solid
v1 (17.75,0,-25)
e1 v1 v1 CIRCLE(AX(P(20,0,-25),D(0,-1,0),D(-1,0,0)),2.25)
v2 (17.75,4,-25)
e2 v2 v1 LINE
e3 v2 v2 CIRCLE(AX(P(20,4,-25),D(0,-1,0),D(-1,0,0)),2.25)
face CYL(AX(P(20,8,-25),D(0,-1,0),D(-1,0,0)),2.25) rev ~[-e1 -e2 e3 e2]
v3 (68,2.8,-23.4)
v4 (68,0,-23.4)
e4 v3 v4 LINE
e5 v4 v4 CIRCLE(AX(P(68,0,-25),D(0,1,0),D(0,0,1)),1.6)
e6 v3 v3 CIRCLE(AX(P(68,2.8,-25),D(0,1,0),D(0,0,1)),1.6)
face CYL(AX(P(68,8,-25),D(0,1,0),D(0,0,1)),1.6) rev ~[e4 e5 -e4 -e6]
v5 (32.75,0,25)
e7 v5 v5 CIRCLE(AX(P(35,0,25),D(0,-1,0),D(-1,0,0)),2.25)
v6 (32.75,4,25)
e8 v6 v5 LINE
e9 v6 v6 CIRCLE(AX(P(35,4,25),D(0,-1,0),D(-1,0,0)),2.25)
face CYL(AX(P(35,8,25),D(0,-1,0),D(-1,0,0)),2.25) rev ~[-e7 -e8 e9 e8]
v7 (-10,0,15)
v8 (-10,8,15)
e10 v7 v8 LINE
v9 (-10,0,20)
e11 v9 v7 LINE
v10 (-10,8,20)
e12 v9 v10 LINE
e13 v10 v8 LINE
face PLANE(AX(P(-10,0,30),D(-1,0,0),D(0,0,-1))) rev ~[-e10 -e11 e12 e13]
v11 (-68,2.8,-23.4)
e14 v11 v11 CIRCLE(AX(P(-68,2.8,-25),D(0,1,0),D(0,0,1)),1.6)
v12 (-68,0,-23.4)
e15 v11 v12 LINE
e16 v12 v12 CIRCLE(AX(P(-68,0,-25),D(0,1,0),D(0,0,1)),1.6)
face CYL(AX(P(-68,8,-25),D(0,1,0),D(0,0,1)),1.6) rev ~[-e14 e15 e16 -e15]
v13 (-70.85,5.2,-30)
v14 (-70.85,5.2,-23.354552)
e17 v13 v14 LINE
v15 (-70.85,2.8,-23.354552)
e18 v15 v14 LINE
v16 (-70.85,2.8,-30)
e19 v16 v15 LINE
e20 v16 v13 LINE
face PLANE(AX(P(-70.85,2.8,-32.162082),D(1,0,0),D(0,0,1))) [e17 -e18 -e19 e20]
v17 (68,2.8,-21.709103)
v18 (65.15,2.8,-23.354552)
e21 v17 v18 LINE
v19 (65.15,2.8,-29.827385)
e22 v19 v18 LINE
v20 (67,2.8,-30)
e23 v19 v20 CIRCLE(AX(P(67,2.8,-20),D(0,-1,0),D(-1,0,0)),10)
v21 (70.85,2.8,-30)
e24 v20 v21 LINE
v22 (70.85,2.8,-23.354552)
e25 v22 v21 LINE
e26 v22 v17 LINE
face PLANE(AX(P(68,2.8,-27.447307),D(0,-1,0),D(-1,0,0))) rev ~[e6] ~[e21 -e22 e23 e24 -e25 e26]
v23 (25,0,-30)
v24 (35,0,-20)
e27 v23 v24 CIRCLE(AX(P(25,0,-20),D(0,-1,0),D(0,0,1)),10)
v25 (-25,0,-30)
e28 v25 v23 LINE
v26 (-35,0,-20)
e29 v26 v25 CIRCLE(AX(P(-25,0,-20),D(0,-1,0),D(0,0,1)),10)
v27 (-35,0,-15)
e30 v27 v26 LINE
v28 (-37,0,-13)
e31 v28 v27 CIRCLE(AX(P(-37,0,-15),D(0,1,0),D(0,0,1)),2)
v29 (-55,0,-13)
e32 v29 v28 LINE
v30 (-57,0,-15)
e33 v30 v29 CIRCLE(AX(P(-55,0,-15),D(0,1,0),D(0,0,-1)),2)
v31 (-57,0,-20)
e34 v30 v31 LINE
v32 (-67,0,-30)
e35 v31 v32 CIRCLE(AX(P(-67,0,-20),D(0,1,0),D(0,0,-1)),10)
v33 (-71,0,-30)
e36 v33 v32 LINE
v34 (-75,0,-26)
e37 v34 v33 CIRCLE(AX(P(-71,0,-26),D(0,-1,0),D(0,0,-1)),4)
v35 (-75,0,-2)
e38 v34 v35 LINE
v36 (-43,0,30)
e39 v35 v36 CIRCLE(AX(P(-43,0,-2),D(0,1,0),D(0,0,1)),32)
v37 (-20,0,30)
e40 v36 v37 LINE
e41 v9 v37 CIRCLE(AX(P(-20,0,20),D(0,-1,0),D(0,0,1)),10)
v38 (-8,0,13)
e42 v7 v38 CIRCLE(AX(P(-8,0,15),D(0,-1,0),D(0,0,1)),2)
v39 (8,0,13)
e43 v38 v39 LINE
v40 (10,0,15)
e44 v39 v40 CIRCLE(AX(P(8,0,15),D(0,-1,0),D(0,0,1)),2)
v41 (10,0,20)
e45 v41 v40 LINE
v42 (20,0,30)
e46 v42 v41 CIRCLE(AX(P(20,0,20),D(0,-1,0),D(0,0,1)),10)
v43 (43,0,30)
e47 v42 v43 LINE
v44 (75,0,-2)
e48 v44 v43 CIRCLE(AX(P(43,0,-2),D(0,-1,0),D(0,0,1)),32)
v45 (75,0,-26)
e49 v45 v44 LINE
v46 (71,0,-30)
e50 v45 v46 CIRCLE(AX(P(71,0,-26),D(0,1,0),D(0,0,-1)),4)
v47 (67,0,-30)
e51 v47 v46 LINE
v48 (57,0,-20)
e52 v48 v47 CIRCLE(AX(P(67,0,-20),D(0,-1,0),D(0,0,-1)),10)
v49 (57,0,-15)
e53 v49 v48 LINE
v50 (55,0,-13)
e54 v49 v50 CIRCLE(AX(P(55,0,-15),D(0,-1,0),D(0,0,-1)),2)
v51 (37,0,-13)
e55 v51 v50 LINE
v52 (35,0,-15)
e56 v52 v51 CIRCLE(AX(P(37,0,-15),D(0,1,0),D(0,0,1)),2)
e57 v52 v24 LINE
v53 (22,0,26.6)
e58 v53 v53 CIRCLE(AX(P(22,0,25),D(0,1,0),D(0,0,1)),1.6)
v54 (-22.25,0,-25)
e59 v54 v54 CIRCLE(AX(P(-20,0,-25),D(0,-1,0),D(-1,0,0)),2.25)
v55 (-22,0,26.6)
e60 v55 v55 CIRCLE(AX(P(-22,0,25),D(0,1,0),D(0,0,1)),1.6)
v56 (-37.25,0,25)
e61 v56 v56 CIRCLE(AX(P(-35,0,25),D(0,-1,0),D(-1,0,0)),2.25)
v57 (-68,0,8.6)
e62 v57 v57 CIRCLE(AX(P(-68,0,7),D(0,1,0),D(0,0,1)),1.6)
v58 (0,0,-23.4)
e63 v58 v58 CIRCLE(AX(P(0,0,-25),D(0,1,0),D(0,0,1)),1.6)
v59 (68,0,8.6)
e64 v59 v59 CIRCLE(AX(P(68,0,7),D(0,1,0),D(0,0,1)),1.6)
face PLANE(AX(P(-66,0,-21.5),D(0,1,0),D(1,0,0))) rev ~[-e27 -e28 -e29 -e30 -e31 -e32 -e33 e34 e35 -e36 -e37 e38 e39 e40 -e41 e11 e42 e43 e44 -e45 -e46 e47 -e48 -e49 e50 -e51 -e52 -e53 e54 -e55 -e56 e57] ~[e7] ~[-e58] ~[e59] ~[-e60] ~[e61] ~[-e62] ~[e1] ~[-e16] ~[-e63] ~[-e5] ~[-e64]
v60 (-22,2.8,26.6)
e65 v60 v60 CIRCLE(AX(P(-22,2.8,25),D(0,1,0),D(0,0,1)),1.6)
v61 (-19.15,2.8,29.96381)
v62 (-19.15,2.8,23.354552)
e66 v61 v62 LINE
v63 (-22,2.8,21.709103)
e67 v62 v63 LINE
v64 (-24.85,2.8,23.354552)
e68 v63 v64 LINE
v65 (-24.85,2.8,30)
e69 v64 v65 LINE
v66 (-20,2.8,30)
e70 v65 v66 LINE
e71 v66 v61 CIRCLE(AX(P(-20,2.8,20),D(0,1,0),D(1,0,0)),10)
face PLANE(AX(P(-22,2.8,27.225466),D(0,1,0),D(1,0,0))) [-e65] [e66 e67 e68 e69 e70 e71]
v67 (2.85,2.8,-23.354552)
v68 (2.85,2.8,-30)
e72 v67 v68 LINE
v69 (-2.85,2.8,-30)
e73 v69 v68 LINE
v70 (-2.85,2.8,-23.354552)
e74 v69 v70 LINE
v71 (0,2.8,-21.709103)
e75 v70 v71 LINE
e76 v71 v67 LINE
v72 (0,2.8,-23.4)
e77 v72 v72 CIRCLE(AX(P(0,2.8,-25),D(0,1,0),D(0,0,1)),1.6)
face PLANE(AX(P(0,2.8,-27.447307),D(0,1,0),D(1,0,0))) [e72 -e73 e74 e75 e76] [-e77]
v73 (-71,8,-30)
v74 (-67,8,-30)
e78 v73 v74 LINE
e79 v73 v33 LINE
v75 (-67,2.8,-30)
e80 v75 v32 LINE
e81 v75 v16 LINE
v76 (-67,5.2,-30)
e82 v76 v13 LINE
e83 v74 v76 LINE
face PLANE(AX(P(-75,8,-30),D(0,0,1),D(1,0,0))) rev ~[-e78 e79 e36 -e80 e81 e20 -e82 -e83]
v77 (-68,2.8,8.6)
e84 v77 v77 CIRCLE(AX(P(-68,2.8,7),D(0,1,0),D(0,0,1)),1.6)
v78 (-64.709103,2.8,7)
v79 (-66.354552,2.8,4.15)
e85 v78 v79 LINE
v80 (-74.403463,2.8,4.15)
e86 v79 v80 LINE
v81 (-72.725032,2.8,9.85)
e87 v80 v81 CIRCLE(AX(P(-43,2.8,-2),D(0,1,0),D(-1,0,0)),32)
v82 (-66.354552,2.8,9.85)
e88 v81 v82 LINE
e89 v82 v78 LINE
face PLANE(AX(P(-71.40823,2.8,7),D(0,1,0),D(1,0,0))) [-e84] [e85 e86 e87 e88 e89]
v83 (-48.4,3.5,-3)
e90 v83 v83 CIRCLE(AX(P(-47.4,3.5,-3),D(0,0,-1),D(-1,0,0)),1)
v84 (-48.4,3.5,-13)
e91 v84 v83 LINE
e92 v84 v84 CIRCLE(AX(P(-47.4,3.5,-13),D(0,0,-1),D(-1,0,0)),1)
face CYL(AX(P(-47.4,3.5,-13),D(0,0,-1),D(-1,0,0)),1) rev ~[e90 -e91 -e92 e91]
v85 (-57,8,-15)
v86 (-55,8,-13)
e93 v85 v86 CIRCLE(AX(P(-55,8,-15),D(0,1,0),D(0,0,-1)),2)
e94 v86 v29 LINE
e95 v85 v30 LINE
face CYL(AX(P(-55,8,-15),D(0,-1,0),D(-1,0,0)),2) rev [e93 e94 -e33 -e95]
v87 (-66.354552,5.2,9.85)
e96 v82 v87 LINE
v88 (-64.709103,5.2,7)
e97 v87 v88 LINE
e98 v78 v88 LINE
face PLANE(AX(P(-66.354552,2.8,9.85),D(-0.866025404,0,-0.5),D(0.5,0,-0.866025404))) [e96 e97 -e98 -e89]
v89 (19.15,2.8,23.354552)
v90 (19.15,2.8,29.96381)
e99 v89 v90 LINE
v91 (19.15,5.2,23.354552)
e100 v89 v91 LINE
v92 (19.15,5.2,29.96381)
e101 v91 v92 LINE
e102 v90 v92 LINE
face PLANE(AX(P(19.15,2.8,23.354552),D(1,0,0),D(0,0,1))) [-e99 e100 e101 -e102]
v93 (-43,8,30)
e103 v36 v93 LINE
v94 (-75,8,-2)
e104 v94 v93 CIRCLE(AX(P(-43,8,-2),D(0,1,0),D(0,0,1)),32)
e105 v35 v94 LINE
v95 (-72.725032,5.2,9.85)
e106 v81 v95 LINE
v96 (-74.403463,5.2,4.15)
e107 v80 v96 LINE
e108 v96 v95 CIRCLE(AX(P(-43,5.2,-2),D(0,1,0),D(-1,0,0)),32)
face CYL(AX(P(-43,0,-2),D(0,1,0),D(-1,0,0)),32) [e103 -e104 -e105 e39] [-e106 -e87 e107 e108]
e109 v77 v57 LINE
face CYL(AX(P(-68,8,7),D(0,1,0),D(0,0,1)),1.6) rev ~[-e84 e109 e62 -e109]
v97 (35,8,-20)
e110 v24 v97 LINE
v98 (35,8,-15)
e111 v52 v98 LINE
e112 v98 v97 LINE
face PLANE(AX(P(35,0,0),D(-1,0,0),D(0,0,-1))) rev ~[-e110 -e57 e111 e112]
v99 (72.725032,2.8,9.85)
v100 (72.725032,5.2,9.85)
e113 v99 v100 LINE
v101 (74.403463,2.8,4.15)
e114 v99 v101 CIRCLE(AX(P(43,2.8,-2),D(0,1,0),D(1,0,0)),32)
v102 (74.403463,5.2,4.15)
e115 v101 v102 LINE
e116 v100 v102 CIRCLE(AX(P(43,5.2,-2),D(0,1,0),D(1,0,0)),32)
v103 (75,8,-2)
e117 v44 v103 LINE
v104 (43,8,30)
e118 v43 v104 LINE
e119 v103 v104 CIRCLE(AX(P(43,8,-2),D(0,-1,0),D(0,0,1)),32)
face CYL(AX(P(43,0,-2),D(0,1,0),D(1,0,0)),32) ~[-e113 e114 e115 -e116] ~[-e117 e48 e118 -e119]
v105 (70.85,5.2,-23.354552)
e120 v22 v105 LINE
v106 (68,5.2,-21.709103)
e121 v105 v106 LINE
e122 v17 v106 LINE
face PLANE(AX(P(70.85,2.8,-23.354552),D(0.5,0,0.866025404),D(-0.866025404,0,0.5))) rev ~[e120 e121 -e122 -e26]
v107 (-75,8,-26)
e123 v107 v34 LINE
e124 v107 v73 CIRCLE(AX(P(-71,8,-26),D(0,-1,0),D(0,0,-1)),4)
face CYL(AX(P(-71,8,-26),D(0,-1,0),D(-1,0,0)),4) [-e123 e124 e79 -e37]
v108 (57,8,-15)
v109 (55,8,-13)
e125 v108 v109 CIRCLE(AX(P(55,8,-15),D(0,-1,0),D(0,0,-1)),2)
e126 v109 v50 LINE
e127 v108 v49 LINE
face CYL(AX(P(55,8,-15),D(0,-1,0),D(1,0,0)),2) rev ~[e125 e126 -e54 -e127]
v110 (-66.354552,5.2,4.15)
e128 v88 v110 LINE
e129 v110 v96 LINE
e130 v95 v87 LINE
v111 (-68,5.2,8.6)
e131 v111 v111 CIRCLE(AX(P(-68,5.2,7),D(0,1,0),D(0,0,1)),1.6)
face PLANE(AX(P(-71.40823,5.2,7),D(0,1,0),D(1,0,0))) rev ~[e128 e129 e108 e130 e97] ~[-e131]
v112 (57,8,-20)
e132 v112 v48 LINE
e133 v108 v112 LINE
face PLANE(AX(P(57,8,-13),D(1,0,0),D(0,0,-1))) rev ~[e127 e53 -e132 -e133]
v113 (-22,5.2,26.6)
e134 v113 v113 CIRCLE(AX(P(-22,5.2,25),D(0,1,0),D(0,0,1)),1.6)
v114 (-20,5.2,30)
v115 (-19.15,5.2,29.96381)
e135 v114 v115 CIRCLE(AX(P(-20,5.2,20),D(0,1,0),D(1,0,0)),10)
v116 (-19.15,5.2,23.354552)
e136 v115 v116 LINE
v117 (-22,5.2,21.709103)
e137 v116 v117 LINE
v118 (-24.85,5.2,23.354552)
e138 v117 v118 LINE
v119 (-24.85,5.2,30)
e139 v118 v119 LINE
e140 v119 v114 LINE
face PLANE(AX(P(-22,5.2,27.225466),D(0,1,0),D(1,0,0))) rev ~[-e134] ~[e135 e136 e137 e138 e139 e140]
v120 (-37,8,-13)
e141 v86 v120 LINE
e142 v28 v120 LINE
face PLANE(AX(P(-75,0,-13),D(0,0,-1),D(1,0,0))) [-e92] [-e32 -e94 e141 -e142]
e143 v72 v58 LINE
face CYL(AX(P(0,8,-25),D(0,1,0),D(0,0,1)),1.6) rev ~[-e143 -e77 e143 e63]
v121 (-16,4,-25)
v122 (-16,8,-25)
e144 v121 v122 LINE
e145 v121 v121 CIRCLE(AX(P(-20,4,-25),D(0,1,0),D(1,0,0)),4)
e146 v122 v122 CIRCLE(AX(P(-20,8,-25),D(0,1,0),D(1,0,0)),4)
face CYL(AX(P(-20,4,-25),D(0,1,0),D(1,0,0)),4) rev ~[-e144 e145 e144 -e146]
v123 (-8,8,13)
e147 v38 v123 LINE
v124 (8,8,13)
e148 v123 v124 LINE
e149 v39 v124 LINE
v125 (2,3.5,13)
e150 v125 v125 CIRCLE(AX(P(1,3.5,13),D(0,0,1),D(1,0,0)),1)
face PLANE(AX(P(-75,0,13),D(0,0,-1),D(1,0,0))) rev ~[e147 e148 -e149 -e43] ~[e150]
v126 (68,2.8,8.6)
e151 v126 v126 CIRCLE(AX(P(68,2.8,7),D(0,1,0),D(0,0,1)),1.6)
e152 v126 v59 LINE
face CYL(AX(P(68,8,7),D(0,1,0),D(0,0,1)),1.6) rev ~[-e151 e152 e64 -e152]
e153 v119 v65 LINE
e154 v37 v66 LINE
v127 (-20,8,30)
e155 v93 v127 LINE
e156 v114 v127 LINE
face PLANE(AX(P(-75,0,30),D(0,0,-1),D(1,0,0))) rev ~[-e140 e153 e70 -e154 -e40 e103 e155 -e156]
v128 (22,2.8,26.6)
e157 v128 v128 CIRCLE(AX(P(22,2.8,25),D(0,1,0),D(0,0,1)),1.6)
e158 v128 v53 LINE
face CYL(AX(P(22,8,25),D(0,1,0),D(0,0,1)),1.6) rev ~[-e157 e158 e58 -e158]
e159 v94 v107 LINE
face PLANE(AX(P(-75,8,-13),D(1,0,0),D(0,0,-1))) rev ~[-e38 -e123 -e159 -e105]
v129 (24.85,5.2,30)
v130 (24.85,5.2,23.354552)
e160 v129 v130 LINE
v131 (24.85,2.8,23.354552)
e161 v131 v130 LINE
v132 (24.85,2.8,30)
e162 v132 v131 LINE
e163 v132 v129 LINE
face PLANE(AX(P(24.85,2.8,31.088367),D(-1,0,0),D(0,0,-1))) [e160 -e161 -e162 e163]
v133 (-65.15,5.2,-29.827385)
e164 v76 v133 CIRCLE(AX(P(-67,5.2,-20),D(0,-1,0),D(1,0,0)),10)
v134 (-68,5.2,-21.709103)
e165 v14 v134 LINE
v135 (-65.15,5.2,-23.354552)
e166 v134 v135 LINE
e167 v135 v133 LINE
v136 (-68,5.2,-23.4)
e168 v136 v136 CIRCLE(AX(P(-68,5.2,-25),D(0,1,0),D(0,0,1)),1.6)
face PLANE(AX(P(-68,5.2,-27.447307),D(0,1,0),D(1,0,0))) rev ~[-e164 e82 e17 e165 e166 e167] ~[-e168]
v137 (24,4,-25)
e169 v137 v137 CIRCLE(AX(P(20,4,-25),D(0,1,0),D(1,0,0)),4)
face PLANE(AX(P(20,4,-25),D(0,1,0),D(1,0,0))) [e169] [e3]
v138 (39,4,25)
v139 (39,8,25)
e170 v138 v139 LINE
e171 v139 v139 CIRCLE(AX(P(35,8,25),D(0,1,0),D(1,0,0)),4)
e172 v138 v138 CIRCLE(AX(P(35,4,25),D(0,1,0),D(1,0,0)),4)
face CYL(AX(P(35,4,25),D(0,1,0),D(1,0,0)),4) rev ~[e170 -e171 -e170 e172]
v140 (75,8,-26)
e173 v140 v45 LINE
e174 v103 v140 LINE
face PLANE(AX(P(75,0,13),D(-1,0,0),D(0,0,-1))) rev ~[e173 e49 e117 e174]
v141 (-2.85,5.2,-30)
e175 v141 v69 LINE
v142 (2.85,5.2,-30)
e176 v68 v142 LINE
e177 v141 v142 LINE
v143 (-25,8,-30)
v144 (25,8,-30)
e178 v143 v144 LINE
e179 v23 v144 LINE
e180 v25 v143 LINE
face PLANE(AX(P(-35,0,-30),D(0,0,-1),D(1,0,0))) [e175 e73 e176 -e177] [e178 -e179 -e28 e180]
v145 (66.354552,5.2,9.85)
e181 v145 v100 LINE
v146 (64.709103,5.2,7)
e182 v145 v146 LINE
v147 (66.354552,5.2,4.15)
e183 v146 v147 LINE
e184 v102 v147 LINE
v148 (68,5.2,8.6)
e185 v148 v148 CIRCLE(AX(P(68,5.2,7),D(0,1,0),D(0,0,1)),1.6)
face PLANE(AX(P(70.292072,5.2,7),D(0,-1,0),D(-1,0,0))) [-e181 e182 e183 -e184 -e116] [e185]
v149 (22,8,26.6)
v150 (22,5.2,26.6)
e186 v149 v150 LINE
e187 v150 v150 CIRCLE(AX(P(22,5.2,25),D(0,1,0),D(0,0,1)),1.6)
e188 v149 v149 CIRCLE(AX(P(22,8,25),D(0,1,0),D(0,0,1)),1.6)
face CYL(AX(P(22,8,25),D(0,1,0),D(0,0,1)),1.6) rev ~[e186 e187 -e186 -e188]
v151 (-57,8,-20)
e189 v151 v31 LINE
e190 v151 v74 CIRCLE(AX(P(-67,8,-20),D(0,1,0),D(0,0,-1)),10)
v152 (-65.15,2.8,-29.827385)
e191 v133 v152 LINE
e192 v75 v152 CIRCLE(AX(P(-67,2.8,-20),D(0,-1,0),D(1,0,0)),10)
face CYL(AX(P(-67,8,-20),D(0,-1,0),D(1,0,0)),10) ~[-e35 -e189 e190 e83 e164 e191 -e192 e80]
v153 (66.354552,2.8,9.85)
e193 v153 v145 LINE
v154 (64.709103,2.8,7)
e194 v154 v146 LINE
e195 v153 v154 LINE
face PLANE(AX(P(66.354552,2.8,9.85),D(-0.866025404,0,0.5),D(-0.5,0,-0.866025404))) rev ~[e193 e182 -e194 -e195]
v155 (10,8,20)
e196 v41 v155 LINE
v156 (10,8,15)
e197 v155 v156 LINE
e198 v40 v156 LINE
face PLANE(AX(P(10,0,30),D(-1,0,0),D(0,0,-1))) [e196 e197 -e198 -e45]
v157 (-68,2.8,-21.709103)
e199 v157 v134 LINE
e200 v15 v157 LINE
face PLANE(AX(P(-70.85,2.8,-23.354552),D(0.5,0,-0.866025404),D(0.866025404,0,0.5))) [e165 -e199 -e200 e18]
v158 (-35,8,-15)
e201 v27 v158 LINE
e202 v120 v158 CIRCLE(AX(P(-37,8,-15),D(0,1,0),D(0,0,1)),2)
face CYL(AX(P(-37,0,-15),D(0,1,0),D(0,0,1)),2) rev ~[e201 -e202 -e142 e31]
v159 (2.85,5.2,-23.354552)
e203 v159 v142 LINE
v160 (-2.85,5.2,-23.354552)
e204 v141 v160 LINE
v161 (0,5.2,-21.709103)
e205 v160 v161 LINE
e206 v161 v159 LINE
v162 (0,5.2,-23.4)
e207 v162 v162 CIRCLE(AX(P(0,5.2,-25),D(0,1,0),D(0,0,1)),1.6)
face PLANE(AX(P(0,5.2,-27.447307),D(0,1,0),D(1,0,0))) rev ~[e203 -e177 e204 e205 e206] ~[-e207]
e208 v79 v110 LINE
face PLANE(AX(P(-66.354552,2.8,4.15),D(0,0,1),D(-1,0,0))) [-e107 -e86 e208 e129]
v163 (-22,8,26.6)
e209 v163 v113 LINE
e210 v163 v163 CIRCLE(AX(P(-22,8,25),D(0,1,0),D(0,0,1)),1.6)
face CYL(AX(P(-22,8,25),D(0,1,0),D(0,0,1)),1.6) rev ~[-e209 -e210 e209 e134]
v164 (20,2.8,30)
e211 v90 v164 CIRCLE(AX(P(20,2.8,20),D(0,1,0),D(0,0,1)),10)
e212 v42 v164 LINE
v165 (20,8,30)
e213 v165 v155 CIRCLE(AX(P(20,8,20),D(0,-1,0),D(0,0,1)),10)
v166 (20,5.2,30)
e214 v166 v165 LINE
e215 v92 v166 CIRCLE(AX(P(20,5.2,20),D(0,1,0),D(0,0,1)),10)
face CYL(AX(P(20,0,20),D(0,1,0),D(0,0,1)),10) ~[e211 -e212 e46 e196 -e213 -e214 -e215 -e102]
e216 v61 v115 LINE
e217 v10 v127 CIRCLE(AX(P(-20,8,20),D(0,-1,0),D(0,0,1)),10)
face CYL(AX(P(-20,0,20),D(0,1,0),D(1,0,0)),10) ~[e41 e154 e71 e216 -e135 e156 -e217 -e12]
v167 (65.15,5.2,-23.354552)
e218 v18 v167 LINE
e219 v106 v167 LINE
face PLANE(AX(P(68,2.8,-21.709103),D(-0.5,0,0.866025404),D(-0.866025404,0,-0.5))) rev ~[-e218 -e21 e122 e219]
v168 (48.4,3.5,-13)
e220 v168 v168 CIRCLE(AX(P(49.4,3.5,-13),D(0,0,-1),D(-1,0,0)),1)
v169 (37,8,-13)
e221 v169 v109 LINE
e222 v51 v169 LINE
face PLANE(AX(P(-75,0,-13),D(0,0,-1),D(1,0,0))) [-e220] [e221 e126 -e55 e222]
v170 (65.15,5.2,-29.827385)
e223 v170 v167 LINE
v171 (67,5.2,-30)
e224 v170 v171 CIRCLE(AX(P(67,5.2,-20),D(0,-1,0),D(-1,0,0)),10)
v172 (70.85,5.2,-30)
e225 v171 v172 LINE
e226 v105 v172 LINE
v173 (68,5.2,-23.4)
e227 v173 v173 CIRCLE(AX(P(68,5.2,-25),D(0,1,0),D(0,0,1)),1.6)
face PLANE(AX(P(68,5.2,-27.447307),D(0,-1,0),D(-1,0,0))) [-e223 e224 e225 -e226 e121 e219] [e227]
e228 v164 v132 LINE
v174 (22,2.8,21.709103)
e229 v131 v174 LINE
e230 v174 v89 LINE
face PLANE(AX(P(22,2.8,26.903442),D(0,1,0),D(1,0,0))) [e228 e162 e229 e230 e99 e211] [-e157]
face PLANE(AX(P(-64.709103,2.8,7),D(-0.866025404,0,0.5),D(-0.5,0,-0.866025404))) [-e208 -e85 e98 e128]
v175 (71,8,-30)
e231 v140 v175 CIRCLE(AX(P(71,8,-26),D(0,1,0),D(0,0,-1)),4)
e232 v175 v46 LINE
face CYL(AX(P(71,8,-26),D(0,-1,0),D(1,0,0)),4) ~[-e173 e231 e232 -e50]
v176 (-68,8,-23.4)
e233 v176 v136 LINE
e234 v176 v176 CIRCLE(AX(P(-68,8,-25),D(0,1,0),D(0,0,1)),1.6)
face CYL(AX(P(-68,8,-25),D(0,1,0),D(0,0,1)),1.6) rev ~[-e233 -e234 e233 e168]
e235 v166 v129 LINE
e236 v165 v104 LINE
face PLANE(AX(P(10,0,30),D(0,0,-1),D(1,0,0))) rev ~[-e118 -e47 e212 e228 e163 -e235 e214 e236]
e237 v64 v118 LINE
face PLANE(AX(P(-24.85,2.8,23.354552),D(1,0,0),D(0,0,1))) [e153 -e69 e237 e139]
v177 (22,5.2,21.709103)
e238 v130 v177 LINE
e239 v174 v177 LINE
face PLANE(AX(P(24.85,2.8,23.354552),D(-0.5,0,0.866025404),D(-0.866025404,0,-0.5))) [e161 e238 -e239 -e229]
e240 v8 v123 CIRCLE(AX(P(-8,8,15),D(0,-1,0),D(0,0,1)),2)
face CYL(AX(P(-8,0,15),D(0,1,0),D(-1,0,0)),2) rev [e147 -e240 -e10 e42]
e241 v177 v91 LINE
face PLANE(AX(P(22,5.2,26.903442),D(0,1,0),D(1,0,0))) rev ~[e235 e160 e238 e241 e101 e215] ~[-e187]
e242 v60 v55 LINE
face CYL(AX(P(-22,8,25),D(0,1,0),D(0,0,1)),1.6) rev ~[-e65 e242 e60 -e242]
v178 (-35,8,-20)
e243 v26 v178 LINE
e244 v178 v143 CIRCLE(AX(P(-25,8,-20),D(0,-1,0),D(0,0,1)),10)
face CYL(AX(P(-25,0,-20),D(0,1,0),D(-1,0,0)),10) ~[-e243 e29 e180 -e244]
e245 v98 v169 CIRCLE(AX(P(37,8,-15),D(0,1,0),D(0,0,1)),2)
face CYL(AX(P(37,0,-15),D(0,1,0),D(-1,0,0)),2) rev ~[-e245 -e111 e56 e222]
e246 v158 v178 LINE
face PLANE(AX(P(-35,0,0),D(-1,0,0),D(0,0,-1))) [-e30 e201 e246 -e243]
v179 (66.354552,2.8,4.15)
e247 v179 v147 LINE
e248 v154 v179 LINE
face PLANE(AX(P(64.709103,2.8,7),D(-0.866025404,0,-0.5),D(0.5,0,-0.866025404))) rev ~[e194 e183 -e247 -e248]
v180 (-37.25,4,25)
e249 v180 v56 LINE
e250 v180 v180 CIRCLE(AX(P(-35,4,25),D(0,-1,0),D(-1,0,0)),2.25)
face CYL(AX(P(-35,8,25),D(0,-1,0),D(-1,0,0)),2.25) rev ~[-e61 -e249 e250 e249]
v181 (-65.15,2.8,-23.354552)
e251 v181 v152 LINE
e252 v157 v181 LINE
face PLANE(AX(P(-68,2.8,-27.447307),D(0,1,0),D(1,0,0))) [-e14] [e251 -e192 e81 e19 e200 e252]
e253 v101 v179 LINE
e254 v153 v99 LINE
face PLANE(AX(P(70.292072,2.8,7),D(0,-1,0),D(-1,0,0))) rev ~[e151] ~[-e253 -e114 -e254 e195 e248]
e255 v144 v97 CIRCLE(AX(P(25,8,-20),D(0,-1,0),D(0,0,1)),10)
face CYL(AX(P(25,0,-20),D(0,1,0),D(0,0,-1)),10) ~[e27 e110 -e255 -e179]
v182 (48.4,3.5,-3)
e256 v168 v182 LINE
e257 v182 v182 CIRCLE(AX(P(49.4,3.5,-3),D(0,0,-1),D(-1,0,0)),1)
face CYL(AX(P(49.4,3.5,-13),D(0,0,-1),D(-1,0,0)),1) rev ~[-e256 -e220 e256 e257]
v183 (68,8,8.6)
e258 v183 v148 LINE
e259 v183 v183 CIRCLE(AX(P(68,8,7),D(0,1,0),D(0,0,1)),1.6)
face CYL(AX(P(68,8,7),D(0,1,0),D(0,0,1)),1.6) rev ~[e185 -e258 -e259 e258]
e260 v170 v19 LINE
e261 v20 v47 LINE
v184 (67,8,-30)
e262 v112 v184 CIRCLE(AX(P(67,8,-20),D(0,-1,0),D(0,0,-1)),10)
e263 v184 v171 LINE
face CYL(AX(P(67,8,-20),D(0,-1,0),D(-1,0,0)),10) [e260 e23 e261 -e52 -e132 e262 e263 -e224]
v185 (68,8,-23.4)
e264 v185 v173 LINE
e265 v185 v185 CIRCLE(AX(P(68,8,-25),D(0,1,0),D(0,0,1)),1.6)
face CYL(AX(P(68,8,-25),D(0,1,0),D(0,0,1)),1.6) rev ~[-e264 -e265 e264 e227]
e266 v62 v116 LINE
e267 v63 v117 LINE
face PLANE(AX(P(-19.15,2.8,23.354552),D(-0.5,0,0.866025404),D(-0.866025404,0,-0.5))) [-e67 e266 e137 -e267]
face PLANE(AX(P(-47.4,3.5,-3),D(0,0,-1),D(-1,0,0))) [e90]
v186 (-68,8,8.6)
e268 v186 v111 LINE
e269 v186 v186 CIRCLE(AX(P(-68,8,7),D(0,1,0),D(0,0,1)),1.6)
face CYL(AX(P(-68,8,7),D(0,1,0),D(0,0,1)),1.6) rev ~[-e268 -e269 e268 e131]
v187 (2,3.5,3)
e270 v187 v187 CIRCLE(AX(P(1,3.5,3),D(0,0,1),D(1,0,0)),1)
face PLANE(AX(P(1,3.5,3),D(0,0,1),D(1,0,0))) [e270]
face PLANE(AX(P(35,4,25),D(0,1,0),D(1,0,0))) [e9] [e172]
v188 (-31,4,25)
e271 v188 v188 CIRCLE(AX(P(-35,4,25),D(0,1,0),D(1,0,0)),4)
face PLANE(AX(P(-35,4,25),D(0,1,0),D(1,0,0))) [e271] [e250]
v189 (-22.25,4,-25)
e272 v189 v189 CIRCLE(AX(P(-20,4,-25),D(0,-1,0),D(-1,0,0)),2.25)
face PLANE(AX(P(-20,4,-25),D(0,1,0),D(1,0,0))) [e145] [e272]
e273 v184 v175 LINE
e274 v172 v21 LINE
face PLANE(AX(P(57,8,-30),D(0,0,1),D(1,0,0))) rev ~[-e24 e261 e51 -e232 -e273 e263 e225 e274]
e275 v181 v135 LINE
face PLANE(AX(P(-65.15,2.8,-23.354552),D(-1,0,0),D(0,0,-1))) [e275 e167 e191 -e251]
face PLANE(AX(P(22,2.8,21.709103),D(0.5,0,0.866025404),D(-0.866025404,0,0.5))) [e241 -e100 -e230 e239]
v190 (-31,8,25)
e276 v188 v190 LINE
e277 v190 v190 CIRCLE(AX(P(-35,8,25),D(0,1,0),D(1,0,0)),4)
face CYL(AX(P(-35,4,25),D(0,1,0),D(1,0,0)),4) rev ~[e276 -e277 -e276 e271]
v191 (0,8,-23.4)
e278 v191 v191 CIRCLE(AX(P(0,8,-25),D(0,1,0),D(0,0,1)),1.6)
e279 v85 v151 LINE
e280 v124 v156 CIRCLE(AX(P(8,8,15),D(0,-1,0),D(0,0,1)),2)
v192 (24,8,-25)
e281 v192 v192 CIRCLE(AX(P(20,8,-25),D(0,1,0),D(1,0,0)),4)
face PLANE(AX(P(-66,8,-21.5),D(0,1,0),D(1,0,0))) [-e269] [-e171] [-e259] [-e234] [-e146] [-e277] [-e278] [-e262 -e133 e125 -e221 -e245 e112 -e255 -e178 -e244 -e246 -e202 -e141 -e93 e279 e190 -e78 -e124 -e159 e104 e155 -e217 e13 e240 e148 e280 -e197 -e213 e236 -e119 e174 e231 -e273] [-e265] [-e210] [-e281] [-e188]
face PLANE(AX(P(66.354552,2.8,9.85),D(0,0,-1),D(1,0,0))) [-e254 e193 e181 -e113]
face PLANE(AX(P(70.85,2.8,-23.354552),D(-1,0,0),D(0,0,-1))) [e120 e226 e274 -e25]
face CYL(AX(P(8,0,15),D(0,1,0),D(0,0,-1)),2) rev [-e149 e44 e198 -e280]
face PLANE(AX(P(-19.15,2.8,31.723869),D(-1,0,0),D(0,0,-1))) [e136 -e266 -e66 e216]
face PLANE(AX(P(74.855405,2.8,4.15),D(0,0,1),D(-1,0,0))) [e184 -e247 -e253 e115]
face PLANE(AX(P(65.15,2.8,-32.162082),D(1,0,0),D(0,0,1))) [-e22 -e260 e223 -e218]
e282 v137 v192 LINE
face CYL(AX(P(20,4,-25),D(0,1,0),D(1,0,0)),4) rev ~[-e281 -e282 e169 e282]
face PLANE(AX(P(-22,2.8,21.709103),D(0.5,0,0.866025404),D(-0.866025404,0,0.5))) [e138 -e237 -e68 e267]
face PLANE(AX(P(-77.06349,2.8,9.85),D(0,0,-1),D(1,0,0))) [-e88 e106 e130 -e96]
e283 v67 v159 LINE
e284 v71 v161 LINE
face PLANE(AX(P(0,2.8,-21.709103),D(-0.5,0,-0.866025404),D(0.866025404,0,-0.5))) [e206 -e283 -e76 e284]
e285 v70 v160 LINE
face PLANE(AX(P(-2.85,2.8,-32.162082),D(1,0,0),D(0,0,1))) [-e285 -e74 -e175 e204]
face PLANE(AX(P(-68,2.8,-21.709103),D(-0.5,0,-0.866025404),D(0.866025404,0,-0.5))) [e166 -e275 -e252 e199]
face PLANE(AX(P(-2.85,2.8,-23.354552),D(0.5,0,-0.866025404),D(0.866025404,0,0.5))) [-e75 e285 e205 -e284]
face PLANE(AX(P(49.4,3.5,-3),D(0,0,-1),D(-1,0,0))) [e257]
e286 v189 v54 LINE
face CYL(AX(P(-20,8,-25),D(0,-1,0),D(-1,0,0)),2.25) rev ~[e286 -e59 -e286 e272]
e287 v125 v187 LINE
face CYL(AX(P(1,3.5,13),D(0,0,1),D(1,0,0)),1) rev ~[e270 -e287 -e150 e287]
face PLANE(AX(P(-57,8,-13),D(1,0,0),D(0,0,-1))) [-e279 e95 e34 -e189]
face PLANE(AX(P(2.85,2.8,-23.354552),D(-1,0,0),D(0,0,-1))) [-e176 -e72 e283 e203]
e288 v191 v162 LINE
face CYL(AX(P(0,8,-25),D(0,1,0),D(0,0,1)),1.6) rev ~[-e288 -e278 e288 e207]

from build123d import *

# Parameters (mm, degrees)
SKETCH1_W                      = 150
SKETCH1_H                      = 26
BOSS_EXTRUDE1_DEPTH            = 8
SKETCH2_R                      = 1
CUT_EXTRUDE1_DEPTH             = 10
SKETCH3_R                      = 1
CUT_EXTRUDE2_DEPTH             = 10
SKETCH4_W                      = 65
SKETCH4_H                      = 30
BOSS_EXTRUDE2_DEPTH            = 8
FILLET1_R                      = 32
SKETCH5_W                      = 70
SKETCH5_H                      = 30
BOSS_EXTRUDE3_DEPTH            = 8
CBORE_FOR_M4_SHCS1_D           = 4.5
CBORE_FOR_M4_SHCS1_CBORE_D     = 8
CBORE_FOR_M4_SHCS1_CBORE_DEPTH = 4
SKETCH10_W                     = 18
SKETCH10_H                     = 17
BOSS_EXTRUDE4_DEPTH            = 8
FILLET2_R                      = 10
FILLET3_R                      = 2
FILLET4_R                      = 4
SKETCH11_R                     = 1.6
CUT_EXTRUDE3_DEPTH             = 82.172655494
CUT_EXTRUDE5_START             = -5.2
CUT_EXTRUDE5_DEPTH             = 2.4


with BuildPart() as part:
    # Sketch1 → Boss-Extrude1 (new body)
    with BuildSketch(Plane(origin=(0, 0, 0), x_dir=(1, 0, 0), z_dir=(0, 1, 0))):
        Rectangle(SKETCH1_W, SKETCH1_H)
    extrude(amount=BOSS_EXTRUDE1_DEPTH)

    # Sketch2 → Cut-Extrude1 (cut)
    with BuildSketch(Plane(origin=(0, 0, -13), x_dir=(-1, 0, 0), z_dir=(0, 0, -1))):
        with Locations((47.4, 3.5)):
            Circle(SKETCH2_R)
        with Locations((-49.4, 3.5)):
            Circle(SKETCH2_R)
    extrude(amount=-CUT_EXTRUDE1_DEPTH, mode=Mode.SUBTRACT)

    # Sketch3 → Cut-Extrude2 (cut)
    with BuildSketch(Plane.XY.offset(13)):
        with Locations((1, 3.5)):
            Circle(SKETCH3_R)
    extrude(amount=-CUT_EXTRUDE2_DEPTH, mode=Mode.SUBTRACT)

    # Sketch4 → Boss-Extrude2 (add)
    with BuildSketch(Plane(origin=(0, 0, 0), x_dir=(1, 0, 0), z_dir=(0, 1, 0))):
        with Locations((-42.5, -15)):
            Rectangle(SKETCH4_W, SKETCH4_H)
        with Locations((42.5, -15)):
            Rectangle(SKETCH4_W, SKETCH4_H)
    extrude(amount=BOSS_EXTRUDE2_DEPTH)

    # Fillet1
    fillet1_edges = [part.edges().sort_by_distance(p)[0] for p in [
        (-75, 4, 30),
        (75, 4, 30),
    ]]
    fillet(fillet1_edges, radius=FILLET1_R)

    # Sketch5 → Boss-Extrude3 (add)
    with BuildSketch(Plane(origin=(0, 0, 0), x_dir=(1, 0, 0), z_dir=(0, 1, 0))):
        with Locations((0, 15)):
            Rectangle(SKETCH5_W, SKETCH5_H)
    extrude(amount=BOSS_EXTRUDE3_DEPTH)

    # CBORE for M4 SHCS1 (through all)
    with Locations(Plane(origin=(0, 8, 0), x_dir=(1, 0, 0), z_dir=(0, 1, 0))):
        with Locations((-20, 25), (20, 25), (35, -25), (-35, -25)):
            CounterBoreHole(CBORE_FOR_M4_SHCS1_D / 2, CBORE_FOR_M4_SHCS1_CBORE_D / 2, CBORE_FOR_M4_SHCS1_CBORE_DEPTH)

    # Sketch10 → Boss-Extrude4 (add)
    with BuildSketch(Plane(origin=(0, 8, 0), x_dir=(1, 0, 0), z_dir=(0, 1, 0))):
        with Locations((-66, 21.5)):
            Rectangle(SKETCH10_W, SKETCH10_H)
        with Locations((66, 21.5)):
            Rectangle(SKETCH10_W, SKETCH10_H)
    extrude(amount=-BOSS_EXTRUDE4_DEPTH)

    # Fillet2
    fillet2_edges = [part.edges().sort_by_distance(p)[0] for p in [
        (-57, 4, -30),
        (57, 4, -30),
        (-10, 4, 30),
        (10, 4, 30),
        (-35, 4, -30),
        (35, 4, -30),
    ]]
    fillet(fillet2_edges, radius=FILLET2_R)

    # Fillet3
    fillet3_edges = [part.edges().sort_by_distance(p)[0] for p in [
        (-57, 4, -13),
        (57, 4, -13),
        (-10, 4, 13),
        (10, 4, 13),
        (-35, 4, -13),
        (35, 4, -13),
    ]]
    fillet(fillet3_edges, radius=FILLET3_R)

    # Fillet4
    fillet4_edges = [part.edges().sort_by_distance(p)[0] for p in [
        (-75, 4, -30),
        (75, 4, -30),
    ]]
    fillet(fillet4_edges, radius=FILLET4_R)

    # Sketch11 → Cut-Extrude3 (cut, through all)
    with BuildSketch(Plane(origin=(0, 8, 0), x_dir=(1, 0, 0), z_dir=(0, 1, 0))):
        with Locations(Location((-68, 25, 0), (0, 0, 270))):
            Circle(SKETCH11_R)
        with Locations(Location((-68, -7, 0), (0, 0, 270))):
            Circle(SKETCH11_R)
        with Locations(Location((0, 25, 0), (0, 0, 270))):
            Circle(SKETCH11_R)
        with Locations(Location((-22, -25, 0), (0, 0, 270))):
            Circle(SKETCH11_R)
        with Locations(Location((22, -25, 0), (0, 0, 270))):
            Circle(SKETCH11_R)
        with Locations(Location((68, -7, 0), (0, 0, 270))):
            Circle(SKETCH11_R)
        with Locations(Location((68, 25, 0), (0, 0, 270))):
            Circle(SKETCH11_R)
    extrude(amount=-CUT_EXTRUDE3_DEPTH, mode=Mode.SUBTRACT)

    # Sketch14 → Cut-Extrude5 (cut)
    with BuildSketch(Plane(origin=(0, 8, 0), x_dir=(1, 0, 0), z_dir=(0, 1, 0)).offset(CUT_EXTRUDE5_START)):
        Polygon((19.15, -26.645448267), (19.15, -29.963809512), (19.15, -31.088367393), (24.85, -31.088367393), (24.85, -30), (24.85, -26.645448267), (24.85, -23.354551733), (22, -21.709103466), (19.15, -23.354551733), align=None)
        Polygon((-70.85, 26.645448267), (-70.85, 23.354551733), (-68, 21.709103466), (-65.15, 23.354551733), (-65.15, 26.645448267), (-65.15, 32.162081996), (-70.85, 32.162081996), align=None)
        Polygon((-66.354551733, -9.85), (-64.709103466, -7), (-66.354551733, -4.15), (-69.645448267, -4.15), (-77.063489816, -4.15), (-77.063489816, -9.85), (-69.645448267, -9.85), align=None)
        Polygon((69.645448267, -4.15), (74.85540498, -4.15), (74.85540498, -9.85), (69.645448267, -9.85), (66.354551733, -9.85), (64.709103466, -7), (66.354551733, -4.15), align=None)
        Polygon((-19.15, -26.645448267), (-19.15, -23.354551733), (-22, -21.709103466), (-24.85, -23.354551733), (-24.85, -26.645448267), (-24.85, -31.723869118), (-19.15, -31.723869118), align=None)
        Polygon((65.15, 26.645448267), (65.15, 32.162081996), (70.85, 32.162081996), (70.85, 26.645448267), (70.85, 23.354551733), (68, 21.709103466), (65.15, 23.354551733), align=None)
        Polygon((-2.85, 26.645448267), (-2.85, 23.354551733), (0, 21.709103466), (2.85, 23.354551733), (2.85, 26.645448267), (2.85, 32.162081996), (-2.85, 32.162081996), align=None)
    extrude(amount=CUT_EXTRUDE5_DEPTH, mode=Mode.SUBTRACT)


solid = part.part
